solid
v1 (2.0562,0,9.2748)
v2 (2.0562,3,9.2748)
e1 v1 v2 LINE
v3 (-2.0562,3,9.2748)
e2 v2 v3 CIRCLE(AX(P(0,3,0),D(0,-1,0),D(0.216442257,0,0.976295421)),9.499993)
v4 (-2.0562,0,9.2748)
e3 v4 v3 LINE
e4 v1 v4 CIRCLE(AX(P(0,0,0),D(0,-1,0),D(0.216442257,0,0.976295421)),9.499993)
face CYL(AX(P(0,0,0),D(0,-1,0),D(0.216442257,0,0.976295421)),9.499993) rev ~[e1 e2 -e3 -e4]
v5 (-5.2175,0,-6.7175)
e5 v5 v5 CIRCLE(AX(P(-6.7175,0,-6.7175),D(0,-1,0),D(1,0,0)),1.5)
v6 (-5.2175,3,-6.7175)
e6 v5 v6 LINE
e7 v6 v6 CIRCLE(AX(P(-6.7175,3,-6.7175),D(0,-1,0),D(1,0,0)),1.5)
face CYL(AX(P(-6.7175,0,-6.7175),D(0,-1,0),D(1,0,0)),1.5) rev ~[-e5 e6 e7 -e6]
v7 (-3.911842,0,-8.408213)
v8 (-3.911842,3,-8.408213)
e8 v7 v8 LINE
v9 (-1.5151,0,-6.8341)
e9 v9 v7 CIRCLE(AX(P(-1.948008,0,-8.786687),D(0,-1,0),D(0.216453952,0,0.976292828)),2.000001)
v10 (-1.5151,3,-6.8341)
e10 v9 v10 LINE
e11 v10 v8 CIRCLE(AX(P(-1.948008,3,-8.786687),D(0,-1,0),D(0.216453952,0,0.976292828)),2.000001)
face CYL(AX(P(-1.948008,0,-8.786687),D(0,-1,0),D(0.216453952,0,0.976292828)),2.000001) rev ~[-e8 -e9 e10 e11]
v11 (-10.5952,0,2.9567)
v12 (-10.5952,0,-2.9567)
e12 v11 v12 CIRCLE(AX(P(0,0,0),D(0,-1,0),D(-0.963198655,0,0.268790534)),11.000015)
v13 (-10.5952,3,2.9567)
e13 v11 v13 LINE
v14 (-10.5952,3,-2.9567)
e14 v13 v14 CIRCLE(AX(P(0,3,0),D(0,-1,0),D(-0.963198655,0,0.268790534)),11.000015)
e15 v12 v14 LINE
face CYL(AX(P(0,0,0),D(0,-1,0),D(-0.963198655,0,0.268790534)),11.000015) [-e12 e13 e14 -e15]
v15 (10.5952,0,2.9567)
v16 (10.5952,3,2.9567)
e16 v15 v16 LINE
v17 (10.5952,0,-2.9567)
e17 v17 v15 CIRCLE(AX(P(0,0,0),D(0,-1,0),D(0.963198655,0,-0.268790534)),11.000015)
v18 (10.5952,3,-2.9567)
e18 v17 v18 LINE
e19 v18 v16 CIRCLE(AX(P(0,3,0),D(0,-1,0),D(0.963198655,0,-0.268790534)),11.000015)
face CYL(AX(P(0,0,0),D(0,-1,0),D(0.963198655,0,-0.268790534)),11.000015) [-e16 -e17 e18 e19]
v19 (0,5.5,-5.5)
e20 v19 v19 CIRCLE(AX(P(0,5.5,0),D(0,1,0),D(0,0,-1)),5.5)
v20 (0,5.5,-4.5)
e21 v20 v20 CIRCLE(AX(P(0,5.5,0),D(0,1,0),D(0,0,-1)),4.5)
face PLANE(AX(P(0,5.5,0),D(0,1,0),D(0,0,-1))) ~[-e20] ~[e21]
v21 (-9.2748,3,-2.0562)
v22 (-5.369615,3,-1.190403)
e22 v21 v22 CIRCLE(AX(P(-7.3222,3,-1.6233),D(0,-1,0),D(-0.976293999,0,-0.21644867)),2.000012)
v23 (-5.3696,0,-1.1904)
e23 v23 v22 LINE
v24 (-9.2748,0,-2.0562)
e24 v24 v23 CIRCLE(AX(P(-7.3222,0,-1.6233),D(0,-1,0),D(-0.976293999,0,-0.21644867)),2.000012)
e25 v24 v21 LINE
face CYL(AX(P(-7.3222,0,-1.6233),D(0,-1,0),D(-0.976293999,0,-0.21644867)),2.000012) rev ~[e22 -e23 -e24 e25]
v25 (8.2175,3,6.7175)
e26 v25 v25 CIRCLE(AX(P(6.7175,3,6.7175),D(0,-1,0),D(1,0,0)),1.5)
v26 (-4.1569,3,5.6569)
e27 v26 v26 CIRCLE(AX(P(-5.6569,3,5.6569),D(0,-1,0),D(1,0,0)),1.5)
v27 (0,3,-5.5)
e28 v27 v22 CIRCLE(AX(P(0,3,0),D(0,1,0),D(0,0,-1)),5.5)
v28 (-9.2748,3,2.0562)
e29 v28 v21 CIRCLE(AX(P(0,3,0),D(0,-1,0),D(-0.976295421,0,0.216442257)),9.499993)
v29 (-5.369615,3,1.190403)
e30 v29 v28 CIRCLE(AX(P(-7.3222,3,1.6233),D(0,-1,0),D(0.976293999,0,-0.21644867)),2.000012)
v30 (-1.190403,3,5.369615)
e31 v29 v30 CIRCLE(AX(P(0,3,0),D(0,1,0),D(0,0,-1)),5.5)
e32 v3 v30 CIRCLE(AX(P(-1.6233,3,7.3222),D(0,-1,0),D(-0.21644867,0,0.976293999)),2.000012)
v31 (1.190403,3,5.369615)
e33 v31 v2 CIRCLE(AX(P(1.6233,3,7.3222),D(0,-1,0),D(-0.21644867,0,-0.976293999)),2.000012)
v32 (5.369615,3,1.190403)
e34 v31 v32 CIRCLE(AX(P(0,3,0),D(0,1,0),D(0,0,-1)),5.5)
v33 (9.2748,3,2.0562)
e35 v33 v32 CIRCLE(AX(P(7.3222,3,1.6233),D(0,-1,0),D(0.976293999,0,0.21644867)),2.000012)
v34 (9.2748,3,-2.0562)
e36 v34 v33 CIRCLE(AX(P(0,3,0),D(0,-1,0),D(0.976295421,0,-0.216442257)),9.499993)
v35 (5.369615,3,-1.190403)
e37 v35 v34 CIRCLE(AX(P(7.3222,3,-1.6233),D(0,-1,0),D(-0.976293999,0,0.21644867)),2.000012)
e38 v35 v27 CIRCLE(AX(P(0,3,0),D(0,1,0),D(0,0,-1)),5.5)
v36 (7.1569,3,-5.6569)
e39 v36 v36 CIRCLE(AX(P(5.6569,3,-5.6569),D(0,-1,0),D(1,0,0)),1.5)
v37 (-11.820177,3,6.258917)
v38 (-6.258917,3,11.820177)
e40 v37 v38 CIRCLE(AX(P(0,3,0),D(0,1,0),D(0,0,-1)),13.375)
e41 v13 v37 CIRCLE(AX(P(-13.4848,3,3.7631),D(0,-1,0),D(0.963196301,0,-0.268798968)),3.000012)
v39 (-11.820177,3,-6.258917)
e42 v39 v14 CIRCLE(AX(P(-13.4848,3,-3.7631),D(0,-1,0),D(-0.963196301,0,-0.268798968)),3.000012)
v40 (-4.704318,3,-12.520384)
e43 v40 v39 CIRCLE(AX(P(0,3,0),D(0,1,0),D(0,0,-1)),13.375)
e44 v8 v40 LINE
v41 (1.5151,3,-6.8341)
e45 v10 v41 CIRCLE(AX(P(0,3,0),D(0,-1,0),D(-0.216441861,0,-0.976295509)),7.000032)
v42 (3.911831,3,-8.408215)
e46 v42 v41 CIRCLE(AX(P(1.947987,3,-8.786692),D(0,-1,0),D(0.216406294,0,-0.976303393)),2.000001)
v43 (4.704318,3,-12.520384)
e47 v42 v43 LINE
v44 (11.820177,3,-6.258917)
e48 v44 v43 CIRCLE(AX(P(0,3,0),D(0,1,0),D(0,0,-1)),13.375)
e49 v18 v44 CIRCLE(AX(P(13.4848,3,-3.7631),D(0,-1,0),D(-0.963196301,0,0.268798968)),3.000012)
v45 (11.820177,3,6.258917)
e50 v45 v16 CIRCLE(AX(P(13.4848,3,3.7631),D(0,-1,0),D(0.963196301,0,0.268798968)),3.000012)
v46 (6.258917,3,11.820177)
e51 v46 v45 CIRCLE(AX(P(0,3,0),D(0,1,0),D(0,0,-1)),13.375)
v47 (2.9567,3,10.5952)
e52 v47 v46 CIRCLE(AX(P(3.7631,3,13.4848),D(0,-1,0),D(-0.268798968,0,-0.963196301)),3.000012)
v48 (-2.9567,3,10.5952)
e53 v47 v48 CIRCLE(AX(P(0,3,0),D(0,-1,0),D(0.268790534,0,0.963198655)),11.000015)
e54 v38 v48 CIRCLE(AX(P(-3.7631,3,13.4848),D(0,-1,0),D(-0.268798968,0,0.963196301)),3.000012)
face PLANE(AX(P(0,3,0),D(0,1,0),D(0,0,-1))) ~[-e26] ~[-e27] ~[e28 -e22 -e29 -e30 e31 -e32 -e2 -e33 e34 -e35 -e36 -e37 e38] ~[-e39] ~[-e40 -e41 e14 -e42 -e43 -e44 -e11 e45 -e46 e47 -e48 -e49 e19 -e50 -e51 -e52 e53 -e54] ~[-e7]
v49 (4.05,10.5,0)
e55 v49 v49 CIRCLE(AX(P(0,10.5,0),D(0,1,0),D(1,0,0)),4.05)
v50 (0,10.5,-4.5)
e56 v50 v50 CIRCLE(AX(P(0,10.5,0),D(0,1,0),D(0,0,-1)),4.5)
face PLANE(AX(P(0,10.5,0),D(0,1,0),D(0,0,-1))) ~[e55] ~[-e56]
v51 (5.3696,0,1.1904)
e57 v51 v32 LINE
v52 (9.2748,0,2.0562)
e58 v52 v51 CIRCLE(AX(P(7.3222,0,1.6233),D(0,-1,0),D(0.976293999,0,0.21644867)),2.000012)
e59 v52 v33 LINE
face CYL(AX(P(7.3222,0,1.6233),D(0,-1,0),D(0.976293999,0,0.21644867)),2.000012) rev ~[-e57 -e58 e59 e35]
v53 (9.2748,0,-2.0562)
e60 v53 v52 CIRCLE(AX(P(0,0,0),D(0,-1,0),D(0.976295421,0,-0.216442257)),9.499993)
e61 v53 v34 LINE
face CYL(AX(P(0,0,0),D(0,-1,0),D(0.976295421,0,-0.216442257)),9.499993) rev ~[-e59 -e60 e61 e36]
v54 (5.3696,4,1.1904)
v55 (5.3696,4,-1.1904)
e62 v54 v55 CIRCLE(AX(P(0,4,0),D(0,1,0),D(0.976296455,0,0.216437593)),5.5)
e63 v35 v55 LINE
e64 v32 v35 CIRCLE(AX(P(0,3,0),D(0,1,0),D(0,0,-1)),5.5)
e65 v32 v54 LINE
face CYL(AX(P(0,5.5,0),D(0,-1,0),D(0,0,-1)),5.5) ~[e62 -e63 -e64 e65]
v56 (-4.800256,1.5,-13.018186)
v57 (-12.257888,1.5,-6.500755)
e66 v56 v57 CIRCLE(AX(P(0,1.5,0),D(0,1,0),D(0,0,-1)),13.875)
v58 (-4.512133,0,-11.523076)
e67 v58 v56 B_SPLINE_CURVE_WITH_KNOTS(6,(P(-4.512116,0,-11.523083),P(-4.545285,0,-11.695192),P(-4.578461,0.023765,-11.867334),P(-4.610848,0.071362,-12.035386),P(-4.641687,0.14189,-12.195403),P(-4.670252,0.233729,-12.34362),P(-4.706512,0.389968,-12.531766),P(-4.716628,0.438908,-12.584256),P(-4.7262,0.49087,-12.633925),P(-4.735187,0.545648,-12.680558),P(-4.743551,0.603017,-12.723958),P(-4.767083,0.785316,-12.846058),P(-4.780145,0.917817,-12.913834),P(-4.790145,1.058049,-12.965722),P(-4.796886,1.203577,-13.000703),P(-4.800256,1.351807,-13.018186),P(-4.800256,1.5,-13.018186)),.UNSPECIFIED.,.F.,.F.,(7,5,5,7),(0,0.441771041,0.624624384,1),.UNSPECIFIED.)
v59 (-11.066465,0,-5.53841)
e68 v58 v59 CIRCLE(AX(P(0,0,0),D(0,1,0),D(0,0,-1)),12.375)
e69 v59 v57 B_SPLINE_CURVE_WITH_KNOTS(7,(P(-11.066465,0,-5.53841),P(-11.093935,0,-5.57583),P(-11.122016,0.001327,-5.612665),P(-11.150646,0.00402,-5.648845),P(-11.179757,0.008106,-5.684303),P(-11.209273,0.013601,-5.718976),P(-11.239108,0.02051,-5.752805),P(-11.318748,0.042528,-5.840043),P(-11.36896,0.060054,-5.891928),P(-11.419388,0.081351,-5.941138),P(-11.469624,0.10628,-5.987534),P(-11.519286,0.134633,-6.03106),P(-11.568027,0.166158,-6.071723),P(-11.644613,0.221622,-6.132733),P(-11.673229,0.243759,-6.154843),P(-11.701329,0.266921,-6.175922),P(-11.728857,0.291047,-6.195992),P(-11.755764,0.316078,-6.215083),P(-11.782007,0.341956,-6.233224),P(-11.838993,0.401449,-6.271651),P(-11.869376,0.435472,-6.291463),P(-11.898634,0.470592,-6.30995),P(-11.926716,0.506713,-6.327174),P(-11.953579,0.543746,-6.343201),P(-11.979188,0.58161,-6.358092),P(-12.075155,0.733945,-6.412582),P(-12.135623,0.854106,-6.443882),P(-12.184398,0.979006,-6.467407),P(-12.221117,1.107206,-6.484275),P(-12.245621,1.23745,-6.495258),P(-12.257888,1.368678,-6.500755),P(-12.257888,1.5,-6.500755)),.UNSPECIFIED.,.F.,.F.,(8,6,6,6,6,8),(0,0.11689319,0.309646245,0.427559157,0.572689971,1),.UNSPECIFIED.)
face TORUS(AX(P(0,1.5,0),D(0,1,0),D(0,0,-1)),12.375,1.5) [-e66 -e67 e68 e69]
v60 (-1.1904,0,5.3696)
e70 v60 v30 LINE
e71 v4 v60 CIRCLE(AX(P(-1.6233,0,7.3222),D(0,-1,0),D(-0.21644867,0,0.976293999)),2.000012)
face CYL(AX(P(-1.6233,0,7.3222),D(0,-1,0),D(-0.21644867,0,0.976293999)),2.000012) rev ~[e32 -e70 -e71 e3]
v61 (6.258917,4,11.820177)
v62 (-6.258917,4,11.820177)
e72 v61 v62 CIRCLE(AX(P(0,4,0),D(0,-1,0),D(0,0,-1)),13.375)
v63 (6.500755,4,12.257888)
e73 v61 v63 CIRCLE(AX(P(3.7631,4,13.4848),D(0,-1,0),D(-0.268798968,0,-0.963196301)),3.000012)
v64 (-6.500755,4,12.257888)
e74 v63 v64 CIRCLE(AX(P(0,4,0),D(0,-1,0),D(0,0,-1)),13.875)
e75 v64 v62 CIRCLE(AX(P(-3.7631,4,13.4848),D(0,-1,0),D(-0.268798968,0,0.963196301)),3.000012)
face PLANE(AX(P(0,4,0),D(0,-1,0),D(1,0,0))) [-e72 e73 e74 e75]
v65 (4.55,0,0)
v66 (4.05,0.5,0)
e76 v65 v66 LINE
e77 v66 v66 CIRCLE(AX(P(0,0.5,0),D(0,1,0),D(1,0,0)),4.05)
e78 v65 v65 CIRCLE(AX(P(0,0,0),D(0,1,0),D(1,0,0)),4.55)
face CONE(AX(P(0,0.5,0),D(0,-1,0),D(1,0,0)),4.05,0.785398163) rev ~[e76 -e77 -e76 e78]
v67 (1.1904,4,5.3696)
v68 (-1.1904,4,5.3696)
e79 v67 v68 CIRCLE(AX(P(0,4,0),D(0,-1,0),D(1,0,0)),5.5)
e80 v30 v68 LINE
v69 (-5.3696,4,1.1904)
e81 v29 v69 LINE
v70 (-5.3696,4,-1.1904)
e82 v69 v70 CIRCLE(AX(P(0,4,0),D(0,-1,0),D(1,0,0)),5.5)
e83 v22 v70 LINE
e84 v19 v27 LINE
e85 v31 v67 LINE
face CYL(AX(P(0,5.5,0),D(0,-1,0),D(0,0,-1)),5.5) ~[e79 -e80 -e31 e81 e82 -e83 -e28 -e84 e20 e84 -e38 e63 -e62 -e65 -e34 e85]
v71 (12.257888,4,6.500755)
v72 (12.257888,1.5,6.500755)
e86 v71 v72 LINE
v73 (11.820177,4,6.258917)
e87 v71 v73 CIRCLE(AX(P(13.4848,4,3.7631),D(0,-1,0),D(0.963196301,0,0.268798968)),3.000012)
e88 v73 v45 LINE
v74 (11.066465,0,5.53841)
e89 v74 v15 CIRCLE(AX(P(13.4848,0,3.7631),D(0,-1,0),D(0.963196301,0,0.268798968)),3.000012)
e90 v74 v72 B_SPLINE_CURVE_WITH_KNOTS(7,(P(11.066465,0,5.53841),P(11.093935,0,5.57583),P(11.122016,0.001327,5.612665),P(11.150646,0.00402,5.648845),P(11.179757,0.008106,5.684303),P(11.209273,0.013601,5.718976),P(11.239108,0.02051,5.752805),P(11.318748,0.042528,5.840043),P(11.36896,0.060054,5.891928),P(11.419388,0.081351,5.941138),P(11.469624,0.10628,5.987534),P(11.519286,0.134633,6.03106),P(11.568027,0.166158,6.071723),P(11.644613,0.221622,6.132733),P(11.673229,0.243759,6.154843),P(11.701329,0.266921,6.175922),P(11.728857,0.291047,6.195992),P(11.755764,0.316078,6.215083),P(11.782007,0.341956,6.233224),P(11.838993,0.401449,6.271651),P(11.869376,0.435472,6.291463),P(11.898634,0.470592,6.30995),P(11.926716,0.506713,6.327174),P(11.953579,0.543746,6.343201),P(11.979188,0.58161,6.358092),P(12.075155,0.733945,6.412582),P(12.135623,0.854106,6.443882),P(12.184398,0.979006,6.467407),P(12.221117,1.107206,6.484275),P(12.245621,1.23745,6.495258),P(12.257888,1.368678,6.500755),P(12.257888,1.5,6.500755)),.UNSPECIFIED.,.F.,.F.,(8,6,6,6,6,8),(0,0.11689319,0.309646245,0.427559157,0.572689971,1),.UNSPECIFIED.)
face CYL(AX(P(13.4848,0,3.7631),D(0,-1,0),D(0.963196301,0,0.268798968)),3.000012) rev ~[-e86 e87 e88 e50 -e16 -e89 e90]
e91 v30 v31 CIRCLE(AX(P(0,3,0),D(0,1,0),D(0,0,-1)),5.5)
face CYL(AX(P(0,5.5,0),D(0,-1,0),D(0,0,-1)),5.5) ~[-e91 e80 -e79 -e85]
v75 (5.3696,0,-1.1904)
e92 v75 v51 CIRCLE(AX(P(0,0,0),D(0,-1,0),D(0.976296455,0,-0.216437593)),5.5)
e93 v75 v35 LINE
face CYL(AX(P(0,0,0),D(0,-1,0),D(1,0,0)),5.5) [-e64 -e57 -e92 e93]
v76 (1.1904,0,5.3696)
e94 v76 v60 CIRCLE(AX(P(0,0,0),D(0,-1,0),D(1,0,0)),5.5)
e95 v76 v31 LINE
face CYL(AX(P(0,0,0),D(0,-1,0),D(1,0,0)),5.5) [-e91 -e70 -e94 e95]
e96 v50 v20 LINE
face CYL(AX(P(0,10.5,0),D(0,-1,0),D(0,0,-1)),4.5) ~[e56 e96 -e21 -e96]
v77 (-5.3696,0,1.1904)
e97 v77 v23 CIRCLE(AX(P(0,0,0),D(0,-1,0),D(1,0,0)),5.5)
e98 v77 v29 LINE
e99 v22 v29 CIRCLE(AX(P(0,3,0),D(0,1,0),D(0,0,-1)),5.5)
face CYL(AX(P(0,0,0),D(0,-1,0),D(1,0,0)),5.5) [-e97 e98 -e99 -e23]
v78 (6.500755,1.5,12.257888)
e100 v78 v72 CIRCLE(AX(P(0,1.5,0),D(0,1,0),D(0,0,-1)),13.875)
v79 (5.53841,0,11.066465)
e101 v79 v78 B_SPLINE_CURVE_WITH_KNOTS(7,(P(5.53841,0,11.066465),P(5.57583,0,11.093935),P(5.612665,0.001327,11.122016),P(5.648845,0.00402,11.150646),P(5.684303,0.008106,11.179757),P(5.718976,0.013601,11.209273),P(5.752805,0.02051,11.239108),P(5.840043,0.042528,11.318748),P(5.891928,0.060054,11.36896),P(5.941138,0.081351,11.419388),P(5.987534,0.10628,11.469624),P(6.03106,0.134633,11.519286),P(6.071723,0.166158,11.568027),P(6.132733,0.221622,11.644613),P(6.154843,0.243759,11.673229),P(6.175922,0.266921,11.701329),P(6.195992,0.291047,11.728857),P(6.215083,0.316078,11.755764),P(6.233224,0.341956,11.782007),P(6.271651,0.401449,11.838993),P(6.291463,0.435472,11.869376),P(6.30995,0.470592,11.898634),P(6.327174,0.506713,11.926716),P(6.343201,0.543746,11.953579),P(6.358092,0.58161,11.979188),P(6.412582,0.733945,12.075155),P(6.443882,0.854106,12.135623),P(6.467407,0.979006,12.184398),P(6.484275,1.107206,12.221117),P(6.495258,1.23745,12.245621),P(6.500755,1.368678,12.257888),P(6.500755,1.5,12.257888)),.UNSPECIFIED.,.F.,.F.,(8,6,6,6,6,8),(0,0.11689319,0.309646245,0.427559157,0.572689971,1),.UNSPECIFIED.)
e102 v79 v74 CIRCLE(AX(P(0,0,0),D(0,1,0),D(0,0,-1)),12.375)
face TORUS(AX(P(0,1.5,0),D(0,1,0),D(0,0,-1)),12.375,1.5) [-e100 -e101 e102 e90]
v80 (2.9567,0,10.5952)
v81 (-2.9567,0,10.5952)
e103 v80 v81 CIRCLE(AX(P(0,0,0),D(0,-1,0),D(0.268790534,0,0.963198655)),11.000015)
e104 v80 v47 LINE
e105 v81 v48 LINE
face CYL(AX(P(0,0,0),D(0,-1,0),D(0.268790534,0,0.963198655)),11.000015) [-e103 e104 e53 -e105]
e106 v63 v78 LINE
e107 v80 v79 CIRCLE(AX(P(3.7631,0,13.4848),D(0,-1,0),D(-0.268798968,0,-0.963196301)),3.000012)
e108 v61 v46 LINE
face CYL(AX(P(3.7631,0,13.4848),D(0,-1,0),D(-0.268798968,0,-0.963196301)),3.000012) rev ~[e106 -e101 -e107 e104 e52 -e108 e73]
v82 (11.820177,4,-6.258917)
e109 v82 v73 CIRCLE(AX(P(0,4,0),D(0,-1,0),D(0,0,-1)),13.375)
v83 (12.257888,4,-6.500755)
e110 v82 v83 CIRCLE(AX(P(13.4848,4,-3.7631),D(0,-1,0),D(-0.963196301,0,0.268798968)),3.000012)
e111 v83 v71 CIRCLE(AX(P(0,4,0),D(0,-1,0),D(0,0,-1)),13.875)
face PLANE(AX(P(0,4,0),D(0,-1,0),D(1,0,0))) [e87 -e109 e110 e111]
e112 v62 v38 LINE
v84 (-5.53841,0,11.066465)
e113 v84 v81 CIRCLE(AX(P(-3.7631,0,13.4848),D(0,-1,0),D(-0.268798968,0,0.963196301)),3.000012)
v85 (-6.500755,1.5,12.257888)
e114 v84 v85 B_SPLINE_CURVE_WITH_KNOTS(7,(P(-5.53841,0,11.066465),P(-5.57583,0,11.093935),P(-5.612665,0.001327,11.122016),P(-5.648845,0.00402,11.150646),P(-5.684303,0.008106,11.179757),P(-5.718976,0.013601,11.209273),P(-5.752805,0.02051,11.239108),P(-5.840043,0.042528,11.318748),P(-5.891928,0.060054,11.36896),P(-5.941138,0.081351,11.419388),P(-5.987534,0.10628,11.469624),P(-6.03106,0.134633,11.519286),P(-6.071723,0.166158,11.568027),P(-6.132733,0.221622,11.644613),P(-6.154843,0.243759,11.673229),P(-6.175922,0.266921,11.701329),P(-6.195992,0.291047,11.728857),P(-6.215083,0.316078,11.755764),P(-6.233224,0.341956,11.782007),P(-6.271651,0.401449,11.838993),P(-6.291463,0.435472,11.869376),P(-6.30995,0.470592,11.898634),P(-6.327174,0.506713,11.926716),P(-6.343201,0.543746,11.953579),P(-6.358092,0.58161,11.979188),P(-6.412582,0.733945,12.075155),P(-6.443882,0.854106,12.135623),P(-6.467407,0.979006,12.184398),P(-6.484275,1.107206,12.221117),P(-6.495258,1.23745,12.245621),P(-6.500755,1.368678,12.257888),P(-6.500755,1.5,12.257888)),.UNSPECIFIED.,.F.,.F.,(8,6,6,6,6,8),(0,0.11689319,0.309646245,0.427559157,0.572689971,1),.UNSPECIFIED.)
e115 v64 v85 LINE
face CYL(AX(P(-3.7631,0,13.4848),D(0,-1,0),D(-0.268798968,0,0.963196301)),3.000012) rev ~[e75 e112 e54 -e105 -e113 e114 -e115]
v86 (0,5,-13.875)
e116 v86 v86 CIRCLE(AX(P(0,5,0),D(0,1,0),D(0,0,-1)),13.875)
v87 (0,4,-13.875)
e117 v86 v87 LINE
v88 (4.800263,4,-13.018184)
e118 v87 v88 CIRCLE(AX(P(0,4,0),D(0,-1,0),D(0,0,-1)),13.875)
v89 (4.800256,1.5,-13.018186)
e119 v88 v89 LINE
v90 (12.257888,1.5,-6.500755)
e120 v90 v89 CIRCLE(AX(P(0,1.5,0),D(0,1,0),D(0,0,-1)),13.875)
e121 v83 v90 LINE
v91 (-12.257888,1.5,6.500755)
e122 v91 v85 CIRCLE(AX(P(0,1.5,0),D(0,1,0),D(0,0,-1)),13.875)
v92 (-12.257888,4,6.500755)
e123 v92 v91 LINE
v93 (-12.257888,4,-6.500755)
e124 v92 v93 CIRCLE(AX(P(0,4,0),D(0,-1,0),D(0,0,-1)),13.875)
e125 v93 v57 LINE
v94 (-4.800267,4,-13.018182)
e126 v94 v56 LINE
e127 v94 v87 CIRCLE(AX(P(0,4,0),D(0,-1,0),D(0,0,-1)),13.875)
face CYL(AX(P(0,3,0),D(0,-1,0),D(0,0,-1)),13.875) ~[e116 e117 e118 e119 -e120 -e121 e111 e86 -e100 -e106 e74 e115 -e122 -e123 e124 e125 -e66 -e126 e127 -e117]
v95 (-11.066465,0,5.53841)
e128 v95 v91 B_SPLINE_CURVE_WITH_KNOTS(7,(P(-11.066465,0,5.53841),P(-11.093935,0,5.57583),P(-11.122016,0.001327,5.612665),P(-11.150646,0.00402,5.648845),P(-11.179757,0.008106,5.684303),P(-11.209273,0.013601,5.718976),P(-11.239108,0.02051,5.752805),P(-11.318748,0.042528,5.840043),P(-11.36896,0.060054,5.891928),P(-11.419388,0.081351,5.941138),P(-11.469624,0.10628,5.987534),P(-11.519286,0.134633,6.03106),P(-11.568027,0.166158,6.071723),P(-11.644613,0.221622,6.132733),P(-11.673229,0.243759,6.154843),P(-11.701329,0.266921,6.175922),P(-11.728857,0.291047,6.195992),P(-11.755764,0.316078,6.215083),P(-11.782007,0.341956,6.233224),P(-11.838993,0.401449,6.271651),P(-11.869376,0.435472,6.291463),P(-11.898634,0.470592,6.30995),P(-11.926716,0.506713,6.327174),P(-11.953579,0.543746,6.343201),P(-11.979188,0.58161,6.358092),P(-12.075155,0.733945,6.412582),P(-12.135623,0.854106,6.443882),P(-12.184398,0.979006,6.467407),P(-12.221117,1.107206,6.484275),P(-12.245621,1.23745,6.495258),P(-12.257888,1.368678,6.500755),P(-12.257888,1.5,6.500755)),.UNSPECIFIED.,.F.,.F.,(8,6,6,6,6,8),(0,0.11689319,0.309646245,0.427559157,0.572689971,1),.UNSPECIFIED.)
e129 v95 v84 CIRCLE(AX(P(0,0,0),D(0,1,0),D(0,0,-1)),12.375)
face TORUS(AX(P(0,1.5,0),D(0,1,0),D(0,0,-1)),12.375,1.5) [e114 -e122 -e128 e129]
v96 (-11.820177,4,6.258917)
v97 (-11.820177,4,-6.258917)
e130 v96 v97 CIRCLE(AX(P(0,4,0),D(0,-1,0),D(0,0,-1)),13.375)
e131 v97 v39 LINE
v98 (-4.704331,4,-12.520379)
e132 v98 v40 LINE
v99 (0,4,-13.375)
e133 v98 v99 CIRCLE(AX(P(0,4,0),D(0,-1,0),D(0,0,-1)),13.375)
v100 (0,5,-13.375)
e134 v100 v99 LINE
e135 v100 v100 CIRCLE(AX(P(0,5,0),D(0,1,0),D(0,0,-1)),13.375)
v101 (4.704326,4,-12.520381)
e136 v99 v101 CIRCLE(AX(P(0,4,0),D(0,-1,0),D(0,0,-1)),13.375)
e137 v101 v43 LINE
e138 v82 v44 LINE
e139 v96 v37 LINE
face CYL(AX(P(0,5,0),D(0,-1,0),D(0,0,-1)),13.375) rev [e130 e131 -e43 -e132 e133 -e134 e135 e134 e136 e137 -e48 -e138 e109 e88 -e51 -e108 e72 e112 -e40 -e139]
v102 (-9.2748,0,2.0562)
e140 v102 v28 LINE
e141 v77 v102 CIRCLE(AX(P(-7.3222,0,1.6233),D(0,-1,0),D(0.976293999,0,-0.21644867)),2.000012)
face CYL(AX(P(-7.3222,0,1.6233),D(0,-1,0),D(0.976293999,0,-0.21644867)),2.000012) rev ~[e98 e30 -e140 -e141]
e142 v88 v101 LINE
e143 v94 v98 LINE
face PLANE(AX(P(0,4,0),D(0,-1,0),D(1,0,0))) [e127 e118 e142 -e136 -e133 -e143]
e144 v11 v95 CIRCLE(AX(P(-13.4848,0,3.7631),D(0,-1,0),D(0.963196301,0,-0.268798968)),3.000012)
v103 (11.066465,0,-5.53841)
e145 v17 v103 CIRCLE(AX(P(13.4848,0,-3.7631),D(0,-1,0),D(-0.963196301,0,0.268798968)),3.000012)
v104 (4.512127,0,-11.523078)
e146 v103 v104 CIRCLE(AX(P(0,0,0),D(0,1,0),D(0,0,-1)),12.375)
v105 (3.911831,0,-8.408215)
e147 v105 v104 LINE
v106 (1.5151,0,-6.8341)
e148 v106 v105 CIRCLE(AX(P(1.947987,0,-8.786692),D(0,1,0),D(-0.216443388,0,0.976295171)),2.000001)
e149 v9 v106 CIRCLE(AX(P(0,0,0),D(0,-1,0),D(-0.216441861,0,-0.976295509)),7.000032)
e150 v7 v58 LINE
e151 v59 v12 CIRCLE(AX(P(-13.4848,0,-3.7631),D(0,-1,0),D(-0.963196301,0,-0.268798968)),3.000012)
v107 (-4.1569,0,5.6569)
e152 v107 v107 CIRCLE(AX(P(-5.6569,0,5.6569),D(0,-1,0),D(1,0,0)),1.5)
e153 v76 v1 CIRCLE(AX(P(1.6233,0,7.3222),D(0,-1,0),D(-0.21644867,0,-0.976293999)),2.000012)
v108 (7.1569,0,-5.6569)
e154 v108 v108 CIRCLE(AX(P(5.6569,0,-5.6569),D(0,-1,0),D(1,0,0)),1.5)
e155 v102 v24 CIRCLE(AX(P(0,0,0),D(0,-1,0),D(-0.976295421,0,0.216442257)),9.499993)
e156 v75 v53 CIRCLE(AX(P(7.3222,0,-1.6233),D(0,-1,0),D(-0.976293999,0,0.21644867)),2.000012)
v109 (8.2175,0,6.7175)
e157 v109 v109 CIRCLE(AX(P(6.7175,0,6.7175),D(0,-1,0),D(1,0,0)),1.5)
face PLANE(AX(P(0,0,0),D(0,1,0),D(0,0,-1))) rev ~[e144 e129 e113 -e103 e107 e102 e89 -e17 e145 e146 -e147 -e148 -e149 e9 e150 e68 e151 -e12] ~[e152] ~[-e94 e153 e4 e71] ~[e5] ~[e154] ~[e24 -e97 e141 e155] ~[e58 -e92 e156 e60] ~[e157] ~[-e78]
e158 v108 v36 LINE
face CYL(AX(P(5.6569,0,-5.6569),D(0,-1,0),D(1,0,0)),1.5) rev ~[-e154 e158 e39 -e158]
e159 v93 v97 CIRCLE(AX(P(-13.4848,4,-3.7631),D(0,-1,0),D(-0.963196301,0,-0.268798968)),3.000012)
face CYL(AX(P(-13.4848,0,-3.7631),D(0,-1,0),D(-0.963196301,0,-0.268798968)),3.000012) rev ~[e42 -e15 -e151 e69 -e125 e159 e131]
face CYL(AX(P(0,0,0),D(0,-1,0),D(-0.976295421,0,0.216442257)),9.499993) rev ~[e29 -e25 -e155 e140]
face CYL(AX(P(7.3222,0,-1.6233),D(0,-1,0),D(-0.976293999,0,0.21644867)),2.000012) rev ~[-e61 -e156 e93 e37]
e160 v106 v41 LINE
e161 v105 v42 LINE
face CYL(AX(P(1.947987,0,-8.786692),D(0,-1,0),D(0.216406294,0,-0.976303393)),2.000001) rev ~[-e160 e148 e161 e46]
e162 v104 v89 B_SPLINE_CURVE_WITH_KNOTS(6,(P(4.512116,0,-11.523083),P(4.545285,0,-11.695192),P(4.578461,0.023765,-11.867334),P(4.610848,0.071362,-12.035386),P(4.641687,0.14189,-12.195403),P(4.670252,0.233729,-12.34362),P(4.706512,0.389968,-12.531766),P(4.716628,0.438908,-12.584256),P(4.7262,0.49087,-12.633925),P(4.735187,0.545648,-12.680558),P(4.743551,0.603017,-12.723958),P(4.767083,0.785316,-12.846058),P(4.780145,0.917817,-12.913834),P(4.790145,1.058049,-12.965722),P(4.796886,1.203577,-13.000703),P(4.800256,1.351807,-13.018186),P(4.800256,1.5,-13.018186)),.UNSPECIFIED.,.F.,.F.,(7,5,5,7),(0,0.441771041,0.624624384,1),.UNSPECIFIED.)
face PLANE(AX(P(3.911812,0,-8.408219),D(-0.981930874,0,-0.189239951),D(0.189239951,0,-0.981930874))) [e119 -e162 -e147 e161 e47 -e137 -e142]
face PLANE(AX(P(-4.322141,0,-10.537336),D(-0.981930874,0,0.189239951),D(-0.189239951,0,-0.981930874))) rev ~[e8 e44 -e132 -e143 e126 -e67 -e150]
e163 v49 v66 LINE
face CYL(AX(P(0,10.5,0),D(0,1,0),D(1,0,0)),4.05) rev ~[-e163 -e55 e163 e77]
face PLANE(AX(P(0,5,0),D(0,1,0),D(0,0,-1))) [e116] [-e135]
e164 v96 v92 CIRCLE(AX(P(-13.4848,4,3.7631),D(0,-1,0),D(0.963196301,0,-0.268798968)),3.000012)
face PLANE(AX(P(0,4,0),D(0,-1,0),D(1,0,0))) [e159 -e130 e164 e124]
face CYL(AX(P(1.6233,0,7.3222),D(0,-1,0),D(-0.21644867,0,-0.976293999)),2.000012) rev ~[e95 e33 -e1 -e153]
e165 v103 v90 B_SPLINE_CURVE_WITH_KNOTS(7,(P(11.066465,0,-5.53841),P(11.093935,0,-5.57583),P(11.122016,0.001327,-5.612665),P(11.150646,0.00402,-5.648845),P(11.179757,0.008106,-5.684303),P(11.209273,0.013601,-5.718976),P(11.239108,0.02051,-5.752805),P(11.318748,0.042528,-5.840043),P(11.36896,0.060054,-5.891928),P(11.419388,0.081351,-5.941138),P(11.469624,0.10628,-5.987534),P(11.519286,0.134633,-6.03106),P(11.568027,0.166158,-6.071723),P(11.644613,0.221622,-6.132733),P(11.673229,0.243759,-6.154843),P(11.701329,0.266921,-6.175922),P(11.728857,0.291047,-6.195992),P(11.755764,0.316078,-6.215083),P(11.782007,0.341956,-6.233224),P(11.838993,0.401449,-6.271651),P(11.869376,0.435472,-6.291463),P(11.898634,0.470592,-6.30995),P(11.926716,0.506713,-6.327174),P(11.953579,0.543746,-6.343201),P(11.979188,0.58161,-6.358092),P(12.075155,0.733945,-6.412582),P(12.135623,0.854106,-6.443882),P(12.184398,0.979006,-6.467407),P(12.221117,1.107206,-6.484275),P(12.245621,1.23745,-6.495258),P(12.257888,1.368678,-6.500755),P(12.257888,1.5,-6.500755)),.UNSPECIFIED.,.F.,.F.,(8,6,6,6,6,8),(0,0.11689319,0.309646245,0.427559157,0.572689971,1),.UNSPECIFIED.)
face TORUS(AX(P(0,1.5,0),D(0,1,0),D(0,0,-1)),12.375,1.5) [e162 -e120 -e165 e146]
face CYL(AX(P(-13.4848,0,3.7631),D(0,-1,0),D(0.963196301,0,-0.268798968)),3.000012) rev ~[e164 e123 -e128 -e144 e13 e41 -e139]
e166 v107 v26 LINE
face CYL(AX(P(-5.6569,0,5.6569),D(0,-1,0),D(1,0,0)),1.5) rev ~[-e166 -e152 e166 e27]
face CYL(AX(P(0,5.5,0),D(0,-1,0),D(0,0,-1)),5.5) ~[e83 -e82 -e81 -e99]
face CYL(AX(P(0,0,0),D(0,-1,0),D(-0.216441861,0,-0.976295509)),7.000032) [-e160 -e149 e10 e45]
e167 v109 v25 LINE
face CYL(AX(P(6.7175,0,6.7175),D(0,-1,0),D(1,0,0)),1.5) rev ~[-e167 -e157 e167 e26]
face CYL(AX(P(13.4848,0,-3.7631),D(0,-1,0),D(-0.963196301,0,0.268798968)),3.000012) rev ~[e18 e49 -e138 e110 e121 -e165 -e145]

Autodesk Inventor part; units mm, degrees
ref_plane "YZ Plane" through (0, 0, 0) normal (1, 0, 0) x (0, 1, 0)
ref_plane "XZ Plane" through (0, 0, 0) normal (0, 1, 0) x (-1, 0, 0)
ref_plane "XY Plane" through (0, 0, 0) normal (0, 0, 1) x (1, 0, 0)
sketch "Sketch1" plane through (0, 0, 0) normal (1, 0, 0) x (0, 1, 0)
  line L0 (0, 0) -> (10.5, 0)
  line L1 (10.5, 0) -> (10.5, -4)
  line L2 (10.5, -4) -> (0, -4)
  line L3 (0, -4) -> (0, 0)
  line L4 (0, -4) -> (10.5, -4)
  line L5 (10.5, -4) -> (10.5, -4.5)
  line L6 (10.5, -4.5) -> (0, -4.5)
  line L7 (0, -4.5) -> (0, -4)
  line L8 (0, -4.5) -> (5.5, -4.5)
  line L9 (5.5, -4.5) -> (5.5, -5.5)
  line L10 (5.5, -5.5) -> (0, -5.5)
  line L11 (0, -5.5) -> (0, -4.5)
  line L12 (0, -5.5) -> (3, -5.5)
  line L13 (3, -5.5) -> (3, -13.875)
  line L14 (3, -13.875) -> (0, -13.875)
  line L15 (0, -13.875) -> (0, -5.5)
  line L16 (3, -13.875) -> (5, -13.875)
  line L17 (5, -13.875) -> (5, -13.375)
  line L18 (5, -13.375) -> (3, -13.375)
  line L19 (3, -13.375) -> (3, -13.875)
  line L20 (6.25, -4) -> (4.25, -4)
  line L21 (4.25, -4) -> (4.25, -3.5)
  line L22 (4.25, -3.5) -> (6.25, -3.5)
  line L23 (6.25, -3.5) -> (6.25, -4)
  line L24 (6.25, -4) -> (6.5, -4)
  line L25 (6.5, -4) -> (6.5, -3.75)
  line L26 (6.5, -3.75) -> (6.25, -3.75)
  line L27 (6.25, -3.75) -> (6.25, -4)
  line L28 (4.25, -4) -> (4, -4)
  line L29 (4, -4) -> (4, -3.75)
  line L30 (4, -3.75) -> (4.25, -3.75)
  line L31 (4.25, -3.75) -> (4.25, -4)
  dimension "d0" = 10.5
  dimension "d1" = 4
  dimension "d2" = 0.5
  dimension "d3" = 5.5
  dimension "d4" = 5.5
  dimension "d5" = 3
  dimension "d6" = 13.875
  dimension "d7" = 2
  dimension "d8" = 0.5
  dimension "d48" = 3.5
  dimension "d49" = 4.25
  dimension "d50" = 4.25
  dimension "d51" = 0.25
  dimension "d52" = 0.25
  dimension "d53" = 0.25
  dimension "d54" = 0.25
revolve "Revolution1" add sketch "Sketch1" angle 360 about axis through (0, 0, 0) along (0, 1, 0) contours L2 L5 L6 L7 | L29 L30 L21 L2 | L6 L9 L10 L11 | L2 L23 L26 L25 | L21 L22 L23 L2 | L10 L13 L14 L15 | L18 L17 L16 L13
fillet "Fillet1" radius 1.5 1 edges at (0, 0, 13.875)
sketch "Sketch2" plane through (0, 0, 0) normal (0, -1, 0) x (1, 0, 0)
  circle A0 centre (0, 0) radius 5.5 construction
  line L0 (0, 0) -> (0, -5.5) construction
  circle A1 centre (0, 0) radius 5.5 projected
  line L1 (0, 0) -> (-8.7504, -8.7504) construction
  circle A2 centre (0, 0) radius 12.375 construction
  circle A3 centre (0, 0) radius 8 construction
  circle A4 centre (0, 0) radius 9.5 construction
  circle A5 centre (-6.7175, -6.7175) radius 1.5
  line L2 (0, 0) -> (-5.6569, 5.6569) construction
  circle A6 centre (-5.6569, 5.6569) radius 1.5
  circle A7 centre (5.6569, -5.6569) radius 1.5
  circle A8 centre (6.7175, 6.7175) radius 1.5
  arc A9 (1.6233, 7.3222) -> (-1.6233, 7.3222) centre (0, 0) ccw construction
  arc A10 (2.0562, 9.2748) -> (-2.0562, 9.2748) centre (0, 0) ccw
  arc A11 (1.1904, 5.3696) -> (-1.1904, 5.3696) centre (0, 0) ccw
  arc A12 (1.1904, 5.3696) -> (2.0562, 9.2748) centre (1.6233, 7.3222) ccw
  arc A13 (-2.0562, 9.2748) -> (-1.1904, 5.3696) centre (-1.6233, 7.3222) ccw
  line L3 (-1.6233, 7.3222) -> (0, 0) construction
  line L4 (0, 0) -> (0, 7.5) construction
  line L5 (1.6233, 7.3222) -> (0, 0) construction
  arc A14 (-5.3696, 1.1904) -> (-9.2748, 2.0562) centre (-7.3222, 1.6233) ccw
  arc A15 (-7.3222, 1.6233) -> (-7.3222, -1.6233) centre (0, 0) ccw construction
  arc A16 (-9.2748, 2.0562) -> (-9.2748, -2.0562) centre (0, 0) ccw
  arc A17 (-9.2748, -2.0562) -> (-5.3696, -1.1904) centre (-7.3222, -1.6233) ccw
  arc A18 (-5.3696, 1.1904) -> (-5.3696, -1.1904) centre (0, 0) ccw
  arc A19 (-1.1904, -5.3696) -> (-2.0562, -9.2748) centre (-1.6233, -7.3222) ccw
  arc A20 (-1.6233, -7.3222) -> (1.6233, -7.3222) centre (0, 0) ccw construction
  arc A21 (-2.0562, -9.2748) -> (2.0562, -9.2748) centre (0, 0) ccw
  arc A22 (2.0562, -9.2748) -> (1.1904, -5.3696) centre (1.6233, -7.3222) ccw
  arc A23 (-1.1904, -5.3696) -> (1.1904, -5.3696) centre (0, 0) ccw
  arc A24 (5.3696, -1.1904) -> (9.2748, -2.0562) centre (7.3222, -1.6233) ccw
  arc A25 (7.3222, -1.6233) -> (7.3222, 1.6233) centre (0, 0) ccw construction
  arc A26 (9.2748, -2.0562) -> (9.2748, 2.0562) centre (0, 0) ccw
  arc A27 (9.2748, 2.0562) -> (5.3696, 1.1904) centre (7.3222, 1.6233) ccw
  arc A28 (5.3696, -1.1904) -> (5.3696, 1.1904) centre (0, 0) ccw
  arc A29 (3.7631, 13.4848) -> (-3.7631, 13.4848) centre (0, 0) ccw construction
  arc A30 (4.5695, 16.3744) -> (-4.5695, 16.3744) centre (0, 0) ccw
  arc A31 (2.9567, 10.5952) -> (-2.9567, 10.5952) centre (0, 0) ccw
  arc A32 (2.9567, 10.5952) -> (4.5695, 16.3744) centre (3.7631, 13.4848) ccw
  arc A33 (-4.5695, 16.3744) -> (-2.9567, 10.5952) centre (-3.7631, 13.4848) ccw
  line L6 (0, 0) -> (6.4128, 12.0779) construction
  arc A34 (10.5952, -2.9567) -> (10.5952, 2.9567) centre (0, 0) ccw
  arc A35 (16.3744, 4.5695) -> (10.5952, 2.9567) centre (13.4848, 3.7631) ccw
  arc A36 (10.5952, -2.9567) -> (16.3744, -4.5695) centre (13.4848, -3.7631) ccw
  arc A37 (16.3744, -4.5695) -> (16.3744, 4.5695) centre (0, 0) ccw
  arc A38 (13.4848, -3.7631) -> (13.4848, 3.7631) centre (0, 0) ccw construction
  arc A39 (-2.9567, -10.5952) -> (2.9567, -10.5952) centre (0, 0) ccw
  arc A40 (4.5695, -16.3744) -> (2.9567, -10.5952) centre (3.7631, -13.4848) ccw
  arc A41 (-2.9567, -10.5952) -> (-4.5695, -16.3744) centre (-3.7631, -13.4848) ccw
  arc A42 (-4.5695, -16.3744) -> (4.5695, -16.3744) centre (0, 0) ccw
  arc A43 (-3.7631, -13.4848) -> (3.7631, -13.4848) centre (0, 0) ccw construction
  arc A44 (-10.5952, 2.9567) -> (-10.5952, -2.9567) centre (0, 0) ccw
  arc A45 (-16.3744, -4.5695) -> (-10.5952, -2.9567) centre (-13.4848, -3.7631) ccw
  arc A46 (-10.5952, 2.9567) -> (-16.3744, 4.5695) centre (-13.4848, 3.7631) ccw
  arc A47 (-16.3744, 4.5695) -> (-16.3744, -4.5695) centre (0, 0) ccw
  arc A48 (-13.4848, 3.7631) -> (-13.4848, -3.7631) centre (0, 0) ccw construction
  circle A49 centre (0, 0) radius 2.25 construction
  arc A50 (-1.948, -8.7867) -> (1.948, -8.7867) centre (0, 0) ccw construction
  arc A51 (-2.3808, -10.7393) -> (2.3808, -10.7393) centre (0, 0) ccw
  arc A52 (-1.5151, -6.8341) -> (1.5151, -6.8341) centre (0, 0) ccw
  arc A53 (-1.5151, -6.8341) -> (-2.3808, -10.7393) centre (-1.948, -8.7867) ccw
  arc A54 (2.3808, -10.7393) -> (1.5151, -6.8341) centre (1.948, -8.7867) ccw
  line L7 (2.2093, 0.4258) -> (5.3775, -16.0134)
  line L8 (-2.2093, 0.4258) -> (-5.3775, -16.0134)
  point P0 (-7.5, 0)
  point P1 (0, -7.5)
  point P2 (7.5, 0)
  point P3 (12.0779, -6.4128)
  point P4 (-6.4128, -12.0779)
  point P5 (-12.0779, 6.4128)
  point P6 (5.3696, 1.1904)
  point P7 (1.1904, 5.3696)
  point P8 (-1.1904, 5.3696)
  point P9 (-5.3696, 1.1904)
  point P10 (-5.3696, -1.1904)
  point P11 (-1.1904, -5.3696)
  point P12 (1.1904, -5.3696)
  point P13 (5.3696, -1.1904)
  point P14 (5.2926, -16.0656)
  point P15 (2.2117, 0.4135)
  point P16 (-2.2117, 0.4135)
  point P17 (4.5121, -11.5231)
  point P18 (-4.5121, -11.5231)
  point P19 (3.9118, -8.4082)
  point P20 (-3.9118, -8.4082)
  dimension "d11" = 11
  dimension "d13" = 16
  dimension "d14" = 19
  dimension "d12" = 45
  dimension "d15" = 3
  dimension "d16" = 3
  dimension "d19" = 360
  dimension "d21" = 4
  dimension "d24" = 25
  dimension "d27" = 360
  dimension "d29" = 11
  dimension "d30" = 3
  dimension "d33" = 360
  dimension "d37" = 4.5
  dimension "d38" = 4
  dimension "d39" = 7
extrude "Extrusion1" cut sketch "Sketch2" against normal blind 4 contours A1 A27 A26 A24 | A1 A13 A10 A12 | L7 A40 A39 A54 | A54 A39 A53 A19 A21 A22 | A1 A17 A16 A14 | A22 A21 A19 A53 A52 A54 | A39 A40 L7 A42 A41 L8 | A39 A41 L8 A53 | A5 | A6 | A7 | A8 | A32 A31 A33 A30 | A34 A35 A37 A36 | A44 A45 A47 A46
thread "Thread1" size "M3x0.5" class "6H" standard "ANSI Metric M Profile" length 3
thread "Thread2" size "M3x0.5" class "6H" standard "ANSI Metric M Profile" length 5.0038
thread "Thread3" size "M3x0.5" class "6H" standard "ANSI Metric M Profile" length 5.0038
thread "Thread4" size "M3x0.5" class "6H" standard "ANSI Metric M Profile" length 5.0038
sketch "Sketch3" plane through (0, 10.5, 0) normal (0, 1, 0) x (1, 0, 0)
  circle A0 centre (0, 0) radius 4.05
  dimension "d55" = 8.1
extrude "Extrusion2" cut sketch "Sketch3" against normal through all
chamfer "Chamfer1" distance 0.5 angle 45 1 edges at (-4.05, 0, 0)
equation "\"d49\" = d50"
properties part number "BASE" material "Aluminum 6061"
